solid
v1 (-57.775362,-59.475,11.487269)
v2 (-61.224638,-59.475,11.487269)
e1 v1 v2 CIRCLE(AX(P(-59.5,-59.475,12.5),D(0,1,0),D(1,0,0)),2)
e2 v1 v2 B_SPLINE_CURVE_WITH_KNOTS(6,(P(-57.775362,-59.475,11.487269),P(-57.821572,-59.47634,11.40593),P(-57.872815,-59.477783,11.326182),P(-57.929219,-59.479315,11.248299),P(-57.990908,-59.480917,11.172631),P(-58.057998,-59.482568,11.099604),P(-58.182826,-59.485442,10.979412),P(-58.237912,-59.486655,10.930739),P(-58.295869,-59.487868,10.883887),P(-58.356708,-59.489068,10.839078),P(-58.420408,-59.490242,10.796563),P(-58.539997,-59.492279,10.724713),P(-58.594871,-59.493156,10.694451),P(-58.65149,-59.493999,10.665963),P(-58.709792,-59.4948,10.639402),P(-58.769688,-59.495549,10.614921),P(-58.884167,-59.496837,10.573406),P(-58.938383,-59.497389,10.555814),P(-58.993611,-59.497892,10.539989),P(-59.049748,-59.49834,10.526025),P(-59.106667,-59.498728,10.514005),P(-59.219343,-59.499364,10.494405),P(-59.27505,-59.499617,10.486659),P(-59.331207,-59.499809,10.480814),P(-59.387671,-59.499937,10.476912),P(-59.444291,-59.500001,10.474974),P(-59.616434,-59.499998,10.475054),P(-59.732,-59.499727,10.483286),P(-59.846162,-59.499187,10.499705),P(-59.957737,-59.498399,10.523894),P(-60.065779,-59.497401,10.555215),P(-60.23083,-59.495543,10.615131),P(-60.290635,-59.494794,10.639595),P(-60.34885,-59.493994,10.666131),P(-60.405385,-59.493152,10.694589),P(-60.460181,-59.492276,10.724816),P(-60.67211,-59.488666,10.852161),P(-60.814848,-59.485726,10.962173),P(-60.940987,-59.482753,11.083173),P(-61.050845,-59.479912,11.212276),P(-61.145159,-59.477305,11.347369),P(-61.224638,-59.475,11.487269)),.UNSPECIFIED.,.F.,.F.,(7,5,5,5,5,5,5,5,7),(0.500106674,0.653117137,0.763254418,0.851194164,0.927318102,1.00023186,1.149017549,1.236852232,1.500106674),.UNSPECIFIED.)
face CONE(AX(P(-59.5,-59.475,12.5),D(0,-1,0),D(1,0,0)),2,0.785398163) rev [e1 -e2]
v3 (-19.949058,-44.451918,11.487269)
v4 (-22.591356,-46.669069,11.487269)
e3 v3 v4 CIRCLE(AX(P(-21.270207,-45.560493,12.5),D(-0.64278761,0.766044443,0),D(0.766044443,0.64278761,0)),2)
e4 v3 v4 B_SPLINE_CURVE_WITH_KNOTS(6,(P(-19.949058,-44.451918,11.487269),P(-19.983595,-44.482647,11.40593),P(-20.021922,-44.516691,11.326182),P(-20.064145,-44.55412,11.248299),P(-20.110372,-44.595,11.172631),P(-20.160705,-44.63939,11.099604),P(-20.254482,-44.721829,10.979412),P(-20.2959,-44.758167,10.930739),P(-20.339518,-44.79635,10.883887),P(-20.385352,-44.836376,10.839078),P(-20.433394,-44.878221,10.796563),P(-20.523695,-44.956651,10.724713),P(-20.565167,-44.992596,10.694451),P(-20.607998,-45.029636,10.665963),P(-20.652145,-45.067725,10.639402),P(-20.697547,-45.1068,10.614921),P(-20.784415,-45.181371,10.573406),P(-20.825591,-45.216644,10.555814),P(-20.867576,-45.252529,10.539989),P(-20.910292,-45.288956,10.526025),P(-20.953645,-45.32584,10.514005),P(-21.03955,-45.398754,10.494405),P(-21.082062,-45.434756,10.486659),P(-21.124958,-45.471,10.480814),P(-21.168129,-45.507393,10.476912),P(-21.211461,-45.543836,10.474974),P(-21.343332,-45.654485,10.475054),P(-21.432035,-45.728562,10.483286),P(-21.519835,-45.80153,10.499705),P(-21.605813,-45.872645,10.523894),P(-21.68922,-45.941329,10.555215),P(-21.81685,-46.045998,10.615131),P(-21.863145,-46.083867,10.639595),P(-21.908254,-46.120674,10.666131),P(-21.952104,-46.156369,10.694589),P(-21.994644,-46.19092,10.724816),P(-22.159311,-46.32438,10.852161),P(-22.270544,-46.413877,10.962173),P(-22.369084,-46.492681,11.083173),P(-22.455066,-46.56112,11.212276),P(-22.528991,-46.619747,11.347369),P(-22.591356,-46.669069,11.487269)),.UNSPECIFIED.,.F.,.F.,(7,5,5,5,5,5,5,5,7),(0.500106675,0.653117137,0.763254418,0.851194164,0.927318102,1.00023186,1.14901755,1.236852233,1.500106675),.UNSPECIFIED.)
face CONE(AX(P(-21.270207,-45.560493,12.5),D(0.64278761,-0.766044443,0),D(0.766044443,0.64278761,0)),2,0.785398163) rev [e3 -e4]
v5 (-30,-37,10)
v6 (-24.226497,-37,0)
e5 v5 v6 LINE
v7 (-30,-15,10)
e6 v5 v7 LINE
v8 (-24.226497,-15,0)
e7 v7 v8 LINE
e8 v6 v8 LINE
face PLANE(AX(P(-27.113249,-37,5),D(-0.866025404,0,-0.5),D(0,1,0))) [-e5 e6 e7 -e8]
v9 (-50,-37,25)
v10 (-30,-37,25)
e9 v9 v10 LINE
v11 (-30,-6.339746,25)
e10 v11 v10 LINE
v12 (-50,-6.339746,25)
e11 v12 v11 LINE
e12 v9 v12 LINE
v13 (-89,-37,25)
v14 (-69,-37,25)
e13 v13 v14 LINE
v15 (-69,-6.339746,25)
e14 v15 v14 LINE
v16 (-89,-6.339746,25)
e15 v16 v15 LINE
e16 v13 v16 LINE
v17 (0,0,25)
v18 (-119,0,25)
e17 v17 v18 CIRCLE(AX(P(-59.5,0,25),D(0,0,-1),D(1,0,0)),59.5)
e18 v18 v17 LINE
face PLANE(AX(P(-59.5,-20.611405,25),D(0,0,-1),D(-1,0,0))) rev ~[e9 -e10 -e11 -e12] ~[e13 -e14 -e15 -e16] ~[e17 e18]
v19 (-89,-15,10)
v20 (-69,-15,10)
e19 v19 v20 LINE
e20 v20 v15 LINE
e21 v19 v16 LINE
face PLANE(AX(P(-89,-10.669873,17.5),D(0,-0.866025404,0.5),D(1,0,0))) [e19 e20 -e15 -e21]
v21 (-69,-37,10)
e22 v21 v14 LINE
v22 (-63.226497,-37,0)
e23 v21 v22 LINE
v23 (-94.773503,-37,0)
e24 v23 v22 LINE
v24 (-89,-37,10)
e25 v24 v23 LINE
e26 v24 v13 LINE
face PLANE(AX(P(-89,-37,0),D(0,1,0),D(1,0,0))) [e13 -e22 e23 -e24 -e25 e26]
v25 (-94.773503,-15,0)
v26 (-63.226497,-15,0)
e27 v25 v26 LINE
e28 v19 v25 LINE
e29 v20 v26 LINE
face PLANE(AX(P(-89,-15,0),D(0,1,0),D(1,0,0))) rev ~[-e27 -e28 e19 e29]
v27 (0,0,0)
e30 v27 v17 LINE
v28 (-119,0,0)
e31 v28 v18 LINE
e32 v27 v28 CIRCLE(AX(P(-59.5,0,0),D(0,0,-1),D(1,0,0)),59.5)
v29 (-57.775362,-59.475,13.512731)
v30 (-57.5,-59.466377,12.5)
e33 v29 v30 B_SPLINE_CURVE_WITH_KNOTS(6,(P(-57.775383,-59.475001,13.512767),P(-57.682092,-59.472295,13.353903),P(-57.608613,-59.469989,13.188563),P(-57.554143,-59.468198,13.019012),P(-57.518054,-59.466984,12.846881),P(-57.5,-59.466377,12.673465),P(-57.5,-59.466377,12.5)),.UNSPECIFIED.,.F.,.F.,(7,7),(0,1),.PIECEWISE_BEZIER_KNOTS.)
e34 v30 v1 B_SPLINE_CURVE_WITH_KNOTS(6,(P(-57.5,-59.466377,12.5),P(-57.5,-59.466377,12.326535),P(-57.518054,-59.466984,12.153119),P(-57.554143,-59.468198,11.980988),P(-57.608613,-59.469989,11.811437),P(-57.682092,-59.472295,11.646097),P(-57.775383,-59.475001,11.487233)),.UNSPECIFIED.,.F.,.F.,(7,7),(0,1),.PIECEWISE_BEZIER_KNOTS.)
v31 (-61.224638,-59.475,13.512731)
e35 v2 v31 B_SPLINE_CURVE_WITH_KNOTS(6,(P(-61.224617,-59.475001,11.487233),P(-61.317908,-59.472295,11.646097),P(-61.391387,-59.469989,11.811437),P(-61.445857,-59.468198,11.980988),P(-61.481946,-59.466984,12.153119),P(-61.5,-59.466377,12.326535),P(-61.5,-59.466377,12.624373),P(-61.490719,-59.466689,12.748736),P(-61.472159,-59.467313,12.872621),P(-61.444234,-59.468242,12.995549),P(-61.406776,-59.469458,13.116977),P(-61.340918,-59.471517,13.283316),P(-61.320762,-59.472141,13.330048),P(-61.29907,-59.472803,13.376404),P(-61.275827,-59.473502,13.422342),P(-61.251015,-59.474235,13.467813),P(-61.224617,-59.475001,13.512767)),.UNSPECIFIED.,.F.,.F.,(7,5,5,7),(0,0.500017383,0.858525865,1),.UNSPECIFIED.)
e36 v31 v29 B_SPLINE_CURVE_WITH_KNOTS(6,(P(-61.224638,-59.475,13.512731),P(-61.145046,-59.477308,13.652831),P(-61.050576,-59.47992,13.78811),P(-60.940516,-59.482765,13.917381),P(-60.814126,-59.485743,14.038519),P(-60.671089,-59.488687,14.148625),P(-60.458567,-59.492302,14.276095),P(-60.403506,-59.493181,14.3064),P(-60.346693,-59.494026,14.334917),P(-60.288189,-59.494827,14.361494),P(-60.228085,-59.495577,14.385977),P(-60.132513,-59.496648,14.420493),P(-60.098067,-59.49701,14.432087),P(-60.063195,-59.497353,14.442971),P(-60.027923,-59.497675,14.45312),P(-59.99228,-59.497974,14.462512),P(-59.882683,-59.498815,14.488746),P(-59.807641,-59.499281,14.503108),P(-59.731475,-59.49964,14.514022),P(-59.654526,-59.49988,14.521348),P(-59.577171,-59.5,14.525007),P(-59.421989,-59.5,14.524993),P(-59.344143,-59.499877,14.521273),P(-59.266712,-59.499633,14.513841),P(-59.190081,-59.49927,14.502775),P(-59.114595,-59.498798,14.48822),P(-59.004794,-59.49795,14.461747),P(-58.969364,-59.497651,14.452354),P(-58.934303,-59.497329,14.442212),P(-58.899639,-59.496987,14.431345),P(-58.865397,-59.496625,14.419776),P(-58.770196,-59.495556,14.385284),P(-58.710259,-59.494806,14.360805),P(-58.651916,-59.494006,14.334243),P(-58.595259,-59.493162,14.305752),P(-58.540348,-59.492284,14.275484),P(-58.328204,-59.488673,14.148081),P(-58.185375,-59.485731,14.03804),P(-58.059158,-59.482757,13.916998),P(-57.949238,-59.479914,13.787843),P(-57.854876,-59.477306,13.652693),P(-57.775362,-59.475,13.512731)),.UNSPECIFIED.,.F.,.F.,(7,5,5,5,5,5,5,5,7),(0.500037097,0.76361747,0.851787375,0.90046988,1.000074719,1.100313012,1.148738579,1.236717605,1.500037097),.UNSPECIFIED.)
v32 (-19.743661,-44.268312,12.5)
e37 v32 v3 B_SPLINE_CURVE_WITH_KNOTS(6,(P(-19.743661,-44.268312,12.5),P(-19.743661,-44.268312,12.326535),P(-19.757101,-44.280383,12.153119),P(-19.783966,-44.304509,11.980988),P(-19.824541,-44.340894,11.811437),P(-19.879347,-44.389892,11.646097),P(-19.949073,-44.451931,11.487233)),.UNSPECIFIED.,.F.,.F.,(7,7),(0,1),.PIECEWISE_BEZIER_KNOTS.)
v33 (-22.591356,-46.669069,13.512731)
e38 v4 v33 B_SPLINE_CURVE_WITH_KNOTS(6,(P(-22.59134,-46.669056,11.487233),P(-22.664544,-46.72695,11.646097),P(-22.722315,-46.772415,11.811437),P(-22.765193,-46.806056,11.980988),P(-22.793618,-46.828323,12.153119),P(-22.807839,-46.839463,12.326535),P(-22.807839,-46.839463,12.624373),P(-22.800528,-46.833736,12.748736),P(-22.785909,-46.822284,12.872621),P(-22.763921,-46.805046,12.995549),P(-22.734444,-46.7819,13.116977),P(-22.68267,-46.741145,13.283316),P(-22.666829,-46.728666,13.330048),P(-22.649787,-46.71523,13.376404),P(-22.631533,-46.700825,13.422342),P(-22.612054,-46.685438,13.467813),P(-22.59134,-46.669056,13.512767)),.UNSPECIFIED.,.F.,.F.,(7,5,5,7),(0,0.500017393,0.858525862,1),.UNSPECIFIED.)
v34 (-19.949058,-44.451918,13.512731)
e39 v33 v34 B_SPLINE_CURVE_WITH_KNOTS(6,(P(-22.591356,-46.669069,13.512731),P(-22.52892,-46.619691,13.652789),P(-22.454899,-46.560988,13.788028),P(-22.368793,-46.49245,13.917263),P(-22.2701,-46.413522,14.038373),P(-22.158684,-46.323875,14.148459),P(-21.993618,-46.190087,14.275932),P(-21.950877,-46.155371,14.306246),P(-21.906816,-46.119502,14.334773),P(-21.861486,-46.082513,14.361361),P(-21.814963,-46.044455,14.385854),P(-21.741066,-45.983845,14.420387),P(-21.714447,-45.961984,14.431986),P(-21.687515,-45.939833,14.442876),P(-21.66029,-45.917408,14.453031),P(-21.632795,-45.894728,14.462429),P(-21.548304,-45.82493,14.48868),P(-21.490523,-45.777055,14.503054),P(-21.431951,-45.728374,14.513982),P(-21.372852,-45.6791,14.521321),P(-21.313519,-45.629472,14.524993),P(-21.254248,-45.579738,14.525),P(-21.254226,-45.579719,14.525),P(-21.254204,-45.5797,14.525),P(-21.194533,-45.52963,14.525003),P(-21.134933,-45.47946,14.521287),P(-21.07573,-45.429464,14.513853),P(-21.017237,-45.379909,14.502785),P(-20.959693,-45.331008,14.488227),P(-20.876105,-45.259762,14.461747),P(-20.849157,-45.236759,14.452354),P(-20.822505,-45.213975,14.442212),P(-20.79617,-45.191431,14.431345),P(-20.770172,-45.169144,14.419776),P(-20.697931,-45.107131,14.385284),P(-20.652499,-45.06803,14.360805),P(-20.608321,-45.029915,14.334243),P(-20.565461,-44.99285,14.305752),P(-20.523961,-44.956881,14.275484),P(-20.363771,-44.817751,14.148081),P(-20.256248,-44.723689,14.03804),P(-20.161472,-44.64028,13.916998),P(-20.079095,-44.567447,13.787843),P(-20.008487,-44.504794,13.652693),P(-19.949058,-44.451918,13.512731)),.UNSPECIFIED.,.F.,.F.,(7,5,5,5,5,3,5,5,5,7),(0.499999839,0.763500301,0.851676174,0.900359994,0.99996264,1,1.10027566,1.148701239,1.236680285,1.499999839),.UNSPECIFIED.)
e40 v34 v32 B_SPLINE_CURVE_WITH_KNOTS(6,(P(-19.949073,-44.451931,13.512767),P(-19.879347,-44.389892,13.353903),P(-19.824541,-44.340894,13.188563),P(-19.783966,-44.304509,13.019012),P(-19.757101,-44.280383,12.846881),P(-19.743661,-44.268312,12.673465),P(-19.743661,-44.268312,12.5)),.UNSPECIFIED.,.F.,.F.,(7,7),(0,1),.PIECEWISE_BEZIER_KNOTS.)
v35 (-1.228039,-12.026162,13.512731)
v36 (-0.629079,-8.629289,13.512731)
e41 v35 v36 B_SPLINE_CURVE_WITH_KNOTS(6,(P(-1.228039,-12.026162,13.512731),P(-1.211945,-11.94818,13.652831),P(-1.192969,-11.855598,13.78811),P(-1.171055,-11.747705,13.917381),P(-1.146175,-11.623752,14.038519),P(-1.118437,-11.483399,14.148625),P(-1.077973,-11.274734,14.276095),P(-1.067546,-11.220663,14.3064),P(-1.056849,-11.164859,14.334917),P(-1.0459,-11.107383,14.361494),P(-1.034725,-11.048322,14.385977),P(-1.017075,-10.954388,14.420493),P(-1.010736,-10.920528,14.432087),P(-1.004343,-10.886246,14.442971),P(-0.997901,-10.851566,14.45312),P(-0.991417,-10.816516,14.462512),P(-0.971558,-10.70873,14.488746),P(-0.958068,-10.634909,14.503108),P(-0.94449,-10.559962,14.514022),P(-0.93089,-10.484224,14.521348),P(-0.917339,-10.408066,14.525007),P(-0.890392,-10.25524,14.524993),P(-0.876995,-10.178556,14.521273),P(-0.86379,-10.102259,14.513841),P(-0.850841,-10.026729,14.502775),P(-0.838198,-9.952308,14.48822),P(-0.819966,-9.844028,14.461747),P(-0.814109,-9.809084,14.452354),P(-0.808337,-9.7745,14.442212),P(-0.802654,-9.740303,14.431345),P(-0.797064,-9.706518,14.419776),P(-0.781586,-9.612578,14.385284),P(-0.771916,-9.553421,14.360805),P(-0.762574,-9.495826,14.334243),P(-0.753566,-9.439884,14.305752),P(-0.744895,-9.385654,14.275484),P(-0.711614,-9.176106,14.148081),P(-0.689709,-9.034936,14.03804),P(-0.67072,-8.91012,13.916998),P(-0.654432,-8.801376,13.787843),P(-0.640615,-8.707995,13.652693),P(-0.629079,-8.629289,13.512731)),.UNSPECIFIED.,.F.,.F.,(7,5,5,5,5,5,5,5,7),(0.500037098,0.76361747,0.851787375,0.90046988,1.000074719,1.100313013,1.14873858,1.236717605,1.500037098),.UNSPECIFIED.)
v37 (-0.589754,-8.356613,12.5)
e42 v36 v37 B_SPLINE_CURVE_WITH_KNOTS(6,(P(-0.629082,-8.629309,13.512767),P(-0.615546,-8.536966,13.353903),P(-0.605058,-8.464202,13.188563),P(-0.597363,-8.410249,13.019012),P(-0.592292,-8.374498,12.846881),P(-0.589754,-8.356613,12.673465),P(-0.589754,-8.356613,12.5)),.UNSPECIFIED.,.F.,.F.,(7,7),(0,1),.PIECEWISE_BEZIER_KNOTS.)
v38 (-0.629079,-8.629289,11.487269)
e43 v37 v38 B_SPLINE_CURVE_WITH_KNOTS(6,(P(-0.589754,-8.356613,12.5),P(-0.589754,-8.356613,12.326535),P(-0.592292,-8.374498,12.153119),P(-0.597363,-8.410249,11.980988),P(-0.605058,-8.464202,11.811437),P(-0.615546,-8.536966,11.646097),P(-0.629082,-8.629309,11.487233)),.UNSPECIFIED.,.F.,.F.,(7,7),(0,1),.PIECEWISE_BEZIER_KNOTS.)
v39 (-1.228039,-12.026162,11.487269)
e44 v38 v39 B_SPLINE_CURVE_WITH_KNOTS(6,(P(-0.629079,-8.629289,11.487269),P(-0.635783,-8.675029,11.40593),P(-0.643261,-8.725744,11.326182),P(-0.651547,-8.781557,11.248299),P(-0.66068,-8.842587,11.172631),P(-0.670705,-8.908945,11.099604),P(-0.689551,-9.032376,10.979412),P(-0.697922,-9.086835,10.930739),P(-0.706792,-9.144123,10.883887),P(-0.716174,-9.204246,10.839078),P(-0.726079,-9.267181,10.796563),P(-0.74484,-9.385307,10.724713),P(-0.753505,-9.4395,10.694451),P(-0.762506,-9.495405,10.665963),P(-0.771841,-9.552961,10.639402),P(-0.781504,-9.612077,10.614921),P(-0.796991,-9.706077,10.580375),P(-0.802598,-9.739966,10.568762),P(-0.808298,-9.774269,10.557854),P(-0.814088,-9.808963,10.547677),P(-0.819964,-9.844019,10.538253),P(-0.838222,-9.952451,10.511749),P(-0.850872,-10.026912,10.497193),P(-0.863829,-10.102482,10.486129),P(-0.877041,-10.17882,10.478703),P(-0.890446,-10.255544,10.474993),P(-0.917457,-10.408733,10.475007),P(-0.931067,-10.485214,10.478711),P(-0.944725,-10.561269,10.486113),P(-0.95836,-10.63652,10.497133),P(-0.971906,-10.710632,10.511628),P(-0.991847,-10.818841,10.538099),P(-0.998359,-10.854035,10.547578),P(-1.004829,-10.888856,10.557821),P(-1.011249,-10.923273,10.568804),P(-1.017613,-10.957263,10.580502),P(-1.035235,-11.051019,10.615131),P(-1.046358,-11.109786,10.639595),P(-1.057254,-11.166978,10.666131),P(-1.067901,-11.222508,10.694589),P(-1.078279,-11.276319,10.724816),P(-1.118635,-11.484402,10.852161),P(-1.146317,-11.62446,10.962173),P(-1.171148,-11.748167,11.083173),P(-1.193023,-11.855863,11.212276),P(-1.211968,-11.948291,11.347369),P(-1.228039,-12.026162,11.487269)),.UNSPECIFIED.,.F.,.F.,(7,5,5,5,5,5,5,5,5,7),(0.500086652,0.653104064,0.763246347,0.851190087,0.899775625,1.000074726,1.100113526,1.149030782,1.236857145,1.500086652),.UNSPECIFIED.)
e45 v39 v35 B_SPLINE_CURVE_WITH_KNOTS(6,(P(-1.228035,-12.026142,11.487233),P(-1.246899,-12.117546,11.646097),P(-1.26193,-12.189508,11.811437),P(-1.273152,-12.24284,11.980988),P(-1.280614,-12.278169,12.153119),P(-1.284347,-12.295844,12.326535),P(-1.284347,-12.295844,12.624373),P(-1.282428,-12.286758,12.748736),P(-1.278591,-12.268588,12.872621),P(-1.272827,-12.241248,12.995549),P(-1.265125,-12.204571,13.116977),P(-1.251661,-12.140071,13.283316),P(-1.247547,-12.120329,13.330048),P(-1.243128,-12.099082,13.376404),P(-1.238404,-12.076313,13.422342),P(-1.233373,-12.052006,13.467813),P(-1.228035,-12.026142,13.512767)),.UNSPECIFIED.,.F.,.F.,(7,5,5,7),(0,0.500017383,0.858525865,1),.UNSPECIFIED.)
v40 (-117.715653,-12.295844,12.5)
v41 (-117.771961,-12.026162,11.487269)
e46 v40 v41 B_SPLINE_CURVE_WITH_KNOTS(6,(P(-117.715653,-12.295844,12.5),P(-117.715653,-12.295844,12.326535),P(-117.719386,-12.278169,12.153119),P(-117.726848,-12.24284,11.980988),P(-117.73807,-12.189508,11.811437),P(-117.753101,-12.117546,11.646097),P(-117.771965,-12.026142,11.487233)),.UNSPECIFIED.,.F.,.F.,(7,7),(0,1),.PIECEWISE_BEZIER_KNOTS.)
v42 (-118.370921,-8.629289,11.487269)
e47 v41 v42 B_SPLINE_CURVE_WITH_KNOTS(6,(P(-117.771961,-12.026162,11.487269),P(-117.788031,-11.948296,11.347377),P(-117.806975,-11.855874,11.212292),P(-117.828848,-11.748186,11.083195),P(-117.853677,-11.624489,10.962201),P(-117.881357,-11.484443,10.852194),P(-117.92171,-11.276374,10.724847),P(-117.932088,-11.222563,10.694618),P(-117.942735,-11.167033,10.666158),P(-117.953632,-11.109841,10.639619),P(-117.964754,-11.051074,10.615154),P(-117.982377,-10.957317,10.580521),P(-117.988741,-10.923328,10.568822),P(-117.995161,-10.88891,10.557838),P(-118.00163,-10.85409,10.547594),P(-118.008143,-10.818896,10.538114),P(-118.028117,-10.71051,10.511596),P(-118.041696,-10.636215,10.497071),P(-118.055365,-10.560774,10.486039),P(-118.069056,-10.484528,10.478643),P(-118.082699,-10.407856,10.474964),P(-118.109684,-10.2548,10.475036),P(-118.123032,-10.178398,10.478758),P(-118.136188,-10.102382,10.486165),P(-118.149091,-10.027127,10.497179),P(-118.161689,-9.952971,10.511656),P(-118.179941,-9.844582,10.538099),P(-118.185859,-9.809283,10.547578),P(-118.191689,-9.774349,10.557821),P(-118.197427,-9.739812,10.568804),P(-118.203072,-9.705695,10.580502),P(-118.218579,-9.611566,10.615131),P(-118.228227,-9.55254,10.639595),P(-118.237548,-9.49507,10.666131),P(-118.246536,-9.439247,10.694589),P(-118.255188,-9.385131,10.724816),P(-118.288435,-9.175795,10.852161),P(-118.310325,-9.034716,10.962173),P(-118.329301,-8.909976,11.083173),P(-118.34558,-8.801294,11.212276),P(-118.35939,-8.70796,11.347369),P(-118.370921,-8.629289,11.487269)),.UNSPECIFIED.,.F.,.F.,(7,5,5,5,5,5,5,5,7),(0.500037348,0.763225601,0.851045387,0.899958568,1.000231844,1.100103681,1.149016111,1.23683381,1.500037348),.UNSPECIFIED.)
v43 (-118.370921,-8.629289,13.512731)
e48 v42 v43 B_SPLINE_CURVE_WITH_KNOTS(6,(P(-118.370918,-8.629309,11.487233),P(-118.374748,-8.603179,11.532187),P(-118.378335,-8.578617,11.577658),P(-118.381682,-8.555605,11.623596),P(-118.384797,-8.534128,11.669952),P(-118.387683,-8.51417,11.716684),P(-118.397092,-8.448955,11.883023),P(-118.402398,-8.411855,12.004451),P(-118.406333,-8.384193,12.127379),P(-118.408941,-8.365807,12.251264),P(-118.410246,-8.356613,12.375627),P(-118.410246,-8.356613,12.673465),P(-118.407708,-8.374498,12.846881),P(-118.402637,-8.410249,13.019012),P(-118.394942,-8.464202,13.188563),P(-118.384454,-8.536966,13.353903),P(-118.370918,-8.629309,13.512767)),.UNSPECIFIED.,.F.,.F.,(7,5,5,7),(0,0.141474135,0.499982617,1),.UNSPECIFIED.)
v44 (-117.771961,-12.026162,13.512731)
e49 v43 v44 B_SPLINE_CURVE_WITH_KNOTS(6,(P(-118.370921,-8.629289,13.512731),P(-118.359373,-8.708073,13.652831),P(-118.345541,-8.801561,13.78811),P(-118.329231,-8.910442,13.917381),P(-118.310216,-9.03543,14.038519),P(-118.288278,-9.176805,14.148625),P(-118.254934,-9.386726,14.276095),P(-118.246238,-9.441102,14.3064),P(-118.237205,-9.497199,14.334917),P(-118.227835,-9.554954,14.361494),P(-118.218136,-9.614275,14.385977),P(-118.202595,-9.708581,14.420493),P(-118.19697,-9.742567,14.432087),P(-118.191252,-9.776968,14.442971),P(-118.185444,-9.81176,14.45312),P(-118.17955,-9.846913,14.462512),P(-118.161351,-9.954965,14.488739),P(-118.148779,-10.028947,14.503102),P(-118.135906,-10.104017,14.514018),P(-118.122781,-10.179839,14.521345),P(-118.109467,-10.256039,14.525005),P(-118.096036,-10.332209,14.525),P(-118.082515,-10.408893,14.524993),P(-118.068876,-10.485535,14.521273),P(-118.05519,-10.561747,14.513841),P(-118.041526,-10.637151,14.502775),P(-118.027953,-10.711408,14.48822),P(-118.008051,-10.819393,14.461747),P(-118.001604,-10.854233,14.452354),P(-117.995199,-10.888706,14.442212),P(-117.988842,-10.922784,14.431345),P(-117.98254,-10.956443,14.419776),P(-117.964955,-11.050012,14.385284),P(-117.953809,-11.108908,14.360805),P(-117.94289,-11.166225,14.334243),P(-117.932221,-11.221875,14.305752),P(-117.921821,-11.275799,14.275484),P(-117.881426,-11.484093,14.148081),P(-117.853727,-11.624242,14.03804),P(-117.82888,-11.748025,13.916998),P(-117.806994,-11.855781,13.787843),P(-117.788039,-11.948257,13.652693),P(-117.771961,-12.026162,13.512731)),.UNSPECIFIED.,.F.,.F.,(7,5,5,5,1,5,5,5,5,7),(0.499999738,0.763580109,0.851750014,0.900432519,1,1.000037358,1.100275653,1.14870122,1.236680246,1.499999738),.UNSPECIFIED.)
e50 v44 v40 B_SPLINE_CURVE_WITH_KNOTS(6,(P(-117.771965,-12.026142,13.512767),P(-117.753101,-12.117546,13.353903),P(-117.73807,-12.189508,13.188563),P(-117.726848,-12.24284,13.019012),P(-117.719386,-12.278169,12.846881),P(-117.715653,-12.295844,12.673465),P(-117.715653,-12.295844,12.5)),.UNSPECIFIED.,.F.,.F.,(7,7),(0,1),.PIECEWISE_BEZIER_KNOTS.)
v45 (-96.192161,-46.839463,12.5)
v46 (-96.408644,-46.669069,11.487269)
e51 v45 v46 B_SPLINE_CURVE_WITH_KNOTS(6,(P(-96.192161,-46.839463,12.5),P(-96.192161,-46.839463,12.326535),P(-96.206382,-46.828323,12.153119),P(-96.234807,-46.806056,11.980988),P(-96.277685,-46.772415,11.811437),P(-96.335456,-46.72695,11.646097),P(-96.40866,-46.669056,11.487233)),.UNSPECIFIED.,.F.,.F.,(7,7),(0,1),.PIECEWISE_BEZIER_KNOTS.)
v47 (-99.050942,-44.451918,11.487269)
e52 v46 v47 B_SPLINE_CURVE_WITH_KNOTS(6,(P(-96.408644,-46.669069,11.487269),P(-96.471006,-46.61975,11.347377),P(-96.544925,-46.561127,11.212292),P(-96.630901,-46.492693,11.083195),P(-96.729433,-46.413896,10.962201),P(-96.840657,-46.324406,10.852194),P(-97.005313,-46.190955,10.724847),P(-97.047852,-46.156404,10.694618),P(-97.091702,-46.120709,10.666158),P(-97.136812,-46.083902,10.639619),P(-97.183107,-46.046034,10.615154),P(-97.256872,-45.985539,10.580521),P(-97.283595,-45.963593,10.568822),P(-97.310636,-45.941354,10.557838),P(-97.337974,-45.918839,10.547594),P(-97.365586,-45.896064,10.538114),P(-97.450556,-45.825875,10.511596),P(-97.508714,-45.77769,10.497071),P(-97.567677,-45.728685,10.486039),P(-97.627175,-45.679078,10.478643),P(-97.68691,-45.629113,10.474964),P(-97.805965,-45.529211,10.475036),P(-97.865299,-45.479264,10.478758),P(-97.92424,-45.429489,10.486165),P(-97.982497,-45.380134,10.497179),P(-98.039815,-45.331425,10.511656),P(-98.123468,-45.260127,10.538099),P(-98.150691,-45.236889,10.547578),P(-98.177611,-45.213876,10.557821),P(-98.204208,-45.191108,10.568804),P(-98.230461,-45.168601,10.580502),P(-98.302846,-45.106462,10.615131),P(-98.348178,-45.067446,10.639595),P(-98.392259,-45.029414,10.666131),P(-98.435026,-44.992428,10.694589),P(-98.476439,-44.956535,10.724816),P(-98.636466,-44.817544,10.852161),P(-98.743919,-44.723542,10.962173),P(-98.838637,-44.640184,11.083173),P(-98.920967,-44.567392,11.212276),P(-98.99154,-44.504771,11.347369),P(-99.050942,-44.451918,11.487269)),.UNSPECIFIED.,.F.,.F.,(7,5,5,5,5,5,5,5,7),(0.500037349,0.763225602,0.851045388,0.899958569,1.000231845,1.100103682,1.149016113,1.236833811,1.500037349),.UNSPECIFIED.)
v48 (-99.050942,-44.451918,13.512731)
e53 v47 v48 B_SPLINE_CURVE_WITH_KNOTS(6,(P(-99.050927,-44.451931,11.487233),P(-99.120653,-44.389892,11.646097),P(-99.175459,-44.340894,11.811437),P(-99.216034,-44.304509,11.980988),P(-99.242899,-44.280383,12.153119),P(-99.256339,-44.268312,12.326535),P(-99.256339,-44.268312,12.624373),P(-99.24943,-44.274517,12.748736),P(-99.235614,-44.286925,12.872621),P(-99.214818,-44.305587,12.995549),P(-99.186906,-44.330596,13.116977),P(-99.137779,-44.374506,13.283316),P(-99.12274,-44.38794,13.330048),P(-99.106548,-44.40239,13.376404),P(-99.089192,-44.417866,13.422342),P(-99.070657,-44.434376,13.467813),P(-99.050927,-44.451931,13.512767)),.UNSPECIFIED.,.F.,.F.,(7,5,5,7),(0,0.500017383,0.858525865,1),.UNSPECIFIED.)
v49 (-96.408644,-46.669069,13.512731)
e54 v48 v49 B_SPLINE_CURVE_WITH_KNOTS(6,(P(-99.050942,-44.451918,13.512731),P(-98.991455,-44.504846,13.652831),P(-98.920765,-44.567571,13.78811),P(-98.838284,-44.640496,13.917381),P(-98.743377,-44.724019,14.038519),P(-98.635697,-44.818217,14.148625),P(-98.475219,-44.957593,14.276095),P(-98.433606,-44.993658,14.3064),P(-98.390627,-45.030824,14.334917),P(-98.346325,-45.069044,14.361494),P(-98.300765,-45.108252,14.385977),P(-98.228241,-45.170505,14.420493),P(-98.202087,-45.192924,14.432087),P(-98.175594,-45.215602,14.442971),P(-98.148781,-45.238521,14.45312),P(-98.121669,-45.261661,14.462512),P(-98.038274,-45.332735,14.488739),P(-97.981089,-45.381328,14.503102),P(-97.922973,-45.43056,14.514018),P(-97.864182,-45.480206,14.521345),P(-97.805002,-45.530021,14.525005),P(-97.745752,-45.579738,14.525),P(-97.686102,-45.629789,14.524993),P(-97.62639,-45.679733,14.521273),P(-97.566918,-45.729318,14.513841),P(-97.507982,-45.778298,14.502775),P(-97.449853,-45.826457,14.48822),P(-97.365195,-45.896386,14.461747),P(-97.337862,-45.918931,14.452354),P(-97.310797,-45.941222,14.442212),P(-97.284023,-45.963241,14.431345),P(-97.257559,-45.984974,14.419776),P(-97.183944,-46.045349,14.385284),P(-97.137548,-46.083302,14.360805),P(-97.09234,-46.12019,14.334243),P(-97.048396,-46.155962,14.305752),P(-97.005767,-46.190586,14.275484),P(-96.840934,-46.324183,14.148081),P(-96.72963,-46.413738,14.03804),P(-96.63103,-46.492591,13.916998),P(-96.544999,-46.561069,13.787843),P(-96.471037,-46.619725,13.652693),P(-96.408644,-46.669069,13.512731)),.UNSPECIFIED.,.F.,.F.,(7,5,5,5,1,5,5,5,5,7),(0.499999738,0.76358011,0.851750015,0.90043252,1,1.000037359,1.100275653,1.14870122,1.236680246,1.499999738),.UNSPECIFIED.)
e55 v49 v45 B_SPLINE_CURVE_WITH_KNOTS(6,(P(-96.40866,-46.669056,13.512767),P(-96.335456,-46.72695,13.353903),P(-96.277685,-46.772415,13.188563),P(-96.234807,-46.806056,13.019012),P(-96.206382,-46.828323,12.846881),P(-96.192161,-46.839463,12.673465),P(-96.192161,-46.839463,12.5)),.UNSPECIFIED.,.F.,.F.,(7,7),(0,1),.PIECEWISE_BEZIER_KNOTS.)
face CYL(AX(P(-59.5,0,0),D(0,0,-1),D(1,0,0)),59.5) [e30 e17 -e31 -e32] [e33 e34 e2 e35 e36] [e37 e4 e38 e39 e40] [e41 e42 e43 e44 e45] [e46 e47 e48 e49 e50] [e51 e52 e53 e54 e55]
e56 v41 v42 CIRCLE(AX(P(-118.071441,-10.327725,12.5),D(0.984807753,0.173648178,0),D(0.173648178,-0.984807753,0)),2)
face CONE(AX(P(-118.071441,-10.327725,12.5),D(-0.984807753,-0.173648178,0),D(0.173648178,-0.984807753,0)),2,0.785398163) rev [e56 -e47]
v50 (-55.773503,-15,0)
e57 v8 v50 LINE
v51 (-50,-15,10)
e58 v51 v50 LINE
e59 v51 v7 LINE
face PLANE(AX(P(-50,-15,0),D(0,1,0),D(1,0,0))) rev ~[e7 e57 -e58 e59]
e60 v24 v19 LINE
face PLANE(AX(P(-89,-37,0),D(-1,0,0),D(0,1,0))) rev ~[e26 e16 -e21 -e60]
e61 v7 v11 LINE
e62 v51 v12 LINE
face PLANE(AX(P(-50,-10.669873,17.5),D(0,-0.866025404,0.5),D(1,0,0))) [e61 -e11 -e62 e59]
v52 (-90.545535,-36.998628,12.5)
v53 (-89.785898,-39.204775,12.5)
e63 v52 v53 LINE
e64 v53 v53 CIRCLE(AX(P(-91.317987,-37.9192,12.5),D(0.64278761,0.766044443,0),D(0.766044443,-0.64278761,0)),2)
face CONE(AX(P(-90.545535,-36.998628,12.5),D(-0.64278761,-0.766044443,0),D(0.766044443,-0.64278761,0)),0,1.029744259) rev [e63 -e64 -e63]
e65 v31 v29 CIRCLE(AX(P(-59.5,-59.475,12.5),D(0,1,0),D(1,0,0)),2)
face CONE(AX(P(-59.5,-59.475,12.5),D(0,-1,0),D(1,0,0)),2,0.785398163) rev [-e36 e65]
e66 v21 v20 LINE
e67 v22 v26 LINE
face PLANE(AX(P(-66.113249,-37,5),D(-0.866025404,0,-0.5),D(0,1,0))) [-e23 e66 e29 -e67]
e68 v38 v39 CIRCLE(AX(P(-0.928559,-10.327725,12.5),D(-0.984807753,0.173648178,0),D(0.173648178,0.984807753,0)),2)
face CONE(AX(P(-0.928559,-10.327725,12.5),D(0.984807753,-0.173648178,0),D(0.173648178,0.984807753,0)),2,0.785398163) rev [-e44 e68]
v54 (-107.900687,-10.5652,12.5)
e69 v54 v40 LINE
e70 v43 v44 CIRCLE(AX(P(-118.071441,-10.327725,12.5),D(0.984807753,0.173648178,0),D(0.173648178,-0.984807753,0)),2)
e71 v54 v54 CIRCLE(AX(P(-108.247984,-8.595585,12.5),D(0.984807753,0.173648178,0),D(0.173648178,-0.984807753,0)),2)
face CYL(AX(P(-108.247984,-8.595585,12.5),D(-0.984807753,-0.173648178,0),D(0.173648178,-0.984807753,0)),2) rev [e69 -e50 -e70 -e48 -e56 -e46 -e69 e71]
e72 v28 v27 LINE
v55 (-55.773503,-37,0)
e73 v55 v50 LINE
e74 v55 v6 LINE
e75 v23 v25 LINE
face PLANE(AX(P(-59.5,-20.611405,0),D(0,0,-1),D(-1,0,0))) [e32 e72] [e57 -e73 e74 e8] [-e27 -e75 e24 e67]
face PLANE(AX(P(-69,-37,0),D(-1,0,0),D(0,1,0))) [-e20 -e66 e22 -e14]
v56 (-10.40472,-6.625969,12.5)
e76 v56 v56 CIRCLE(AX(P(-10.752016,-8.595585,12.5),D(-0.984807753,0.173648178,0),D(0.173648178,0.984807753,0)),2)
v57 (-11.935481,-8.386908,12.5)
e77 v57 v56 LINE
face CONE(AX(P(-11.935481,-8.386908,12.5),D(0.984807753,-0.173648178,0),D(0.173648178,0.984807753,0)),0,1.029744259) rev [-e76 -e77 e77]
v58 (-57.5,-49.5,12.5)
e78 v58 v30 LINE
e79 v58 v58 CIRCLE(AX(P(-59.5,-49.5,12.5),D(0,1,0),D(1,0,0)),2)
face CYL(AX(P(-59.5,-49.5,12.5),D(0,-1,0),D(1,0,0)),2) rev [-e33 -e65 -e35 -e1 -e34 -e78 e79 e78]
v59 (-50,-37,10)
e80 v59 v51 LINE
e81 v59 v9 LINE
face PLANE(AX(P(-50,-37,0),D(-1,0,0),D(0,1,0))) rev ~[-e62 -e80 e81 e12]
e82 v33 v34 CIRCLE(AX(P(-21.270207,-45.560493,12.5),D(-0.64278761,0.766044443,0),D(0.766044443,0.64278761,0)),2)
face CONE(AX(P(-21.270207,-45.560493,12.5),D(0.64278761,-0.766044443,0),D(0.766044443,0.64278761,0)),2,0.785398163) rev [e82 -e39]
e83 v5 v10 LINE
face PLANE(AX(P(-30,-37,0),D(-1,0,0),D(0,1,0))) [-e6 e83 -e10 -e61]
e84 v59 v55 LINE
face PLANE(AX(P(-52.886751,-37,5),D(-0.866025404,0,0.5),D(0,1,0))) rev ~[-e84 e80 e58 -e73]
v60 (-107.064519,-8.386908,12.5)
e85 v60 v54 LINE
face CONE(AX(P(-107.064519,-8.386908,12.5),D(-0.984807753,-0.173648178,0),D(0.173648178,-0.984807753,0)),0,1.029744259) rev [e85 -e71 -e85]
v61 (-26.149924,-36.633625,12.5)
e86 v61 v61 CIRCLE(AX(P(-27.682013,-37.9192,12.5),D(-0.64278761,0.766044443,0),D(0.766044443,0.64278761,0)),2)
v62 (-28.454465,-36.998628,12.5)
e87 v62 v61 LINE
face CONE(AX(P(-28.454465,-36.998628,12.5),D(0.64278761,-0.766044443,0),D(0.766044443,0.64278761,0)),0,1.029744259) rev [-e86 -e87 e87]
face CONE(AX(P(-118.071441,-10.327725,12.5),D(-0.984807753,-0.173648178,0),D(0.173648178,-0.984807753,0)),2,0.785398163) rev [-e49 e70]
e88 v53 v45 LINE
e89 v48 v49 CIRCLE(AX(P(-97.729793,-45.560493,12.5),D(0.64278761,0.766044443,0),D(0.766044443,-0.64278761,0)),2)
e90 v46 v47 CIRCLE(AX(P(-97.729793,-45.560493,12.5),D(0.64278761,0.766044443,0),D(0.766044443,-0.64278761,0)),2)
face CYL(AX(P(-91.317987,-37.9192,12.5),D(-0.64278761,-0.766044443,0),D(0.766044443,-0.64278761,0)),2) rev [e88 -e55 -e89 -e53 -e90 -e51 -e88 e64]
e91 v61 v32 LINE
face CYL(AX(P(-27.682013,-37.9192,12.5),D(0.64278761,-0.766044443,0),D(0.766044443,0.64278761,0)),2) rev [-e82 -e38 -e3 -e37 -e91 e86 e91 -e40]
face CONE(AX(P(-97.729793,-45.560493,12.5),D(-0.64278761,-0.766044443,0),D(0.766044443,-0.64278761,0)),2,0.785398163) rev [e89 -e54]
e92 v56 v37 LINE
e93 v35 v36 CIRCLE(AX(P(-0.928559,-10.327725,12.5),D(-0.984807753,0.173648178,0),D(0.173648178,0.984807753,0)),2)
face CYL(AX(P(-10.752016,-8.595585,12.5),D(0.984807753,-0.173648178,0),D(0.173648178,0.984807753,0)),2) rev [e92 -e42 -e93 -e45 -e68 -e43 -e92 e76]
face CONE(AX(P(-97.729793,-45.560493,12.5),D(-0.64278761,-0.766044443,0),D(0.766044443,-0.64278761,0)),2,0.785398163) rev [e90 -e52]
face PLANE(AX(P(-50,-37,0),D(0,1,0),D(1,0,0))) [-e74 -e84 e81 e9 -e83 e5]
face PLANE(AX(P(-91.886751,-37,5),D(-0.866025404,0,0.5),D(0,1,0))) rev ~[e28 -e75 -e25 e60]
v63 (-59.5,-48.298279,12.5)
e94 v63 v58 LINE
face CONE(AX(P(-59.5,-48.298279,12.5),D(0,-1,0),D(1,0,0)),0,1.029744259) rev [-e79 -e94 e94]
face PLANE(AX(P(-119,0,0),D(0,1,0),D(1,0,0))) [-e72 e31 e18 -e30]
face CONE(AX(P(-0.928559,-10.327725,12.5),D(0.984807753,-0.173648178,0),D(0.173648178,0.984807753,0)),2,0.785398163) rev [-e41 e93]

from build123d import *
from OCP.BRepFilletAPI import BRepFilletAPI_MakeChamfer

# Parameters (mm, degrees)
SKETCH1_W           = 20
SKETCH1_H           = 22
BOSS_EXTRUDE1_DEPTH = 25
CIRPATTERN1_COUNT   = 5
CIRPATTERN1_ANGLE   = 160
CHAMFER1_SIZE       = 15
CHAMFER1_SIZE2      = 8.660254038
CHAMFER2_SIZE       = 10
CHAMFER2_SIZE2      = 5.773502692


with BuildPart() as part:
    # Sketch1 → Boss-Extrude1 (new body)
    with BuildSketch(Plane.XY):
        with BuildLine():
            Line((-119, 0), (0, 0))
            ThreePointArc((0, 0), (-59.5, -59.5), (-119, 0))
        make_face()
        with Locations((-40, -26)):
            Rectangle(SKETCH1_W, SKETCH1_H, mode=Mode.SUBTRACT)
        with Locations((-79, -26)):
            Rectangle(SKETCH1_W, SKETCH1_H, mode=Mode.SUBTRACT)
    extrude(amount=BOSS_EXTRUDE1_DEPTH)

    # Sketch4 → Ø4.0mm Dowel Hole2 (revolve, cut)
    with BuildSketch(Plane(origin=(-0.903938696, -10.332066571, 12.5), x_dir=(0.1736481776669305, 0.9848077530122081, 0), z_dir=(0, 0, 1))):
        Polygon((0, 0), (0, 11.201721238), (2, 10), (2, 0.025), (2.025, 0), align=None)
    f_4_0mm_dowel_hole2 = revolve(axis=Axis((5.349590536, -11.434732499, 12.5), (-0.9848077530122081, 0.1736481776669305, 0)), mode=Mode.SUBTRACT)

    # CirPattern1: Ø4.0mm Dowel Hole2 ×5 about axis
    cirpattern1_axis = Axis((-59.5, 0, 0), (0, 0, -1))
    for i in range(1, CIRPATTERN1_COUNT):
        add(f_4_0mm_dowel_hole2.rotate(cirpattern1_axis, i * CIRPATTERN1_ANGLE / (CIRPATTERN1_COUNT - 1)), mode=Mode.SUBTRACT)

    # Chamfer1: one chamfer whose edges measure the first distance from different faces: ONE call of the kernel's chamfer builder (chamfer() names one face for all edges)
    chamfer1_edges_1 = [part.edges().sort_by_distance(p)[0] for p in [
        (-40, -15, 25),
    ]]
    chamfer1_side_1 = [part.faces().sort_by_distance(p)[0] for p in [
        (-40, -15, 12.5),
    ]]
    chamfer1_edges_2 = [part.edges().sort_by_distance(p)[0] for p in [
        (-79, -15, 25),
    ]]
    chamfer1_side_2 = [part.faces().sort_by_distance(p)[0] for p in [
        (-79, -15, 12.5),
    ]]
    chamfer1 = BRepFilletAPI_MakeChamfer(part.part.solid().wrapped)
    for e in chamfer1_edges_1:
        chamfer1.Add(CHAMFER1_SIZE, CHAMFER1_SIZE2, e.wrapped, chamfer1_side_1[0].wrapped)  # the first distance lies on this face
    for e in chamfer1_edges_2:
        chamfer1.Add(CHAMFER1_SIZE, CHAMFER1_SIZE2, e.wrapped, chamfer1_side_2[0].wrapped)  # the first distance lies on this face
    add(Compound.cast(chamfer1.Shape()), mode=Mode.REPLACE)

    # Chamfer2: one chamfer whose edges measure the first distance from different faces: ONE call of the kernel's chamfer builder (chamfer() names one face for all edges)
    chamfer2_edges_1 = [part.edges().sort_by_distance(p)[0] for p in [
        (-50, -26, 0),
    ]]
    chamfer2_side_1 = [part.faces().sort_by_distance(p)[0] for p in [
        (-50, -24.533265853, 13.292158355),
    ]]
    chamfer2_edges_2 = [part.edges().sort_by_distance(p)[0] for p in [
        (-30, -26, 0),
    ]]
    chamfer2_side_2 = [part.faces().sort_by_distance(p)[0] for p in [
        (-30, -24.533265853, 13.292158355),
    ]]
    chamfer2_edges_3 = [part.edges().sort_by_distance(p)[0] for p in [
        (-89, -26, 0),
    ]]
    chamfer2_side_3 = [part.faces().sort_by_distance(p)[0] for p in [
        (-89, -24.533265853, 13.292158355),
    ]]
    chamfer2_edges_4 = [part.edges().sort_by_distance(p)[0] for p in [
        (-69, -26, 0),
    ]]
    chamfer2_side_4 = [part.faces().sort_by_distance(p)[0] for p in [
        (-69, -24.533265853, 13.292158355),
    ]]
    chamfer2 = BRepFilletAPI_MakeChamfer(part.part.solid().wrapped)
    for e in chamfer2_edges_1:
        chamfer2.Add(CHAMFER2_SIZE, CHAMFER2_SIZE2, e.wrapped, chamfer2_side_1[0].wrapped)  # the first distance lies on this face
    for e in chamfer2_edges_2:
        chamfer2.Add(CHAMFER2_SIZE, CHAMFER2_SIZE2, e.wrapped, chamfer2_side_2[0].wrapped)  # the first distance lies on this face
    for e in chamfer2_edges_3:
        chamfer2.Add(CHAMFER2_SIZE, CHAMFER2_SIZE2, e.wrapped, chamfer2_side_3[0].wrapped)  # the first distance lies on this face
    for e in chamfer2_edges_4:
        chamfer2.Add(CHAMFER2_SIZE, CHAMFER2_SIZE2, e.wrapped, chamfer2_side_4[0].wrapped)  # the first distance lies on this face
    add(Compound.cast(chamfer2.Shape()), mode=Mode.REPLACE)


solid = part.part
